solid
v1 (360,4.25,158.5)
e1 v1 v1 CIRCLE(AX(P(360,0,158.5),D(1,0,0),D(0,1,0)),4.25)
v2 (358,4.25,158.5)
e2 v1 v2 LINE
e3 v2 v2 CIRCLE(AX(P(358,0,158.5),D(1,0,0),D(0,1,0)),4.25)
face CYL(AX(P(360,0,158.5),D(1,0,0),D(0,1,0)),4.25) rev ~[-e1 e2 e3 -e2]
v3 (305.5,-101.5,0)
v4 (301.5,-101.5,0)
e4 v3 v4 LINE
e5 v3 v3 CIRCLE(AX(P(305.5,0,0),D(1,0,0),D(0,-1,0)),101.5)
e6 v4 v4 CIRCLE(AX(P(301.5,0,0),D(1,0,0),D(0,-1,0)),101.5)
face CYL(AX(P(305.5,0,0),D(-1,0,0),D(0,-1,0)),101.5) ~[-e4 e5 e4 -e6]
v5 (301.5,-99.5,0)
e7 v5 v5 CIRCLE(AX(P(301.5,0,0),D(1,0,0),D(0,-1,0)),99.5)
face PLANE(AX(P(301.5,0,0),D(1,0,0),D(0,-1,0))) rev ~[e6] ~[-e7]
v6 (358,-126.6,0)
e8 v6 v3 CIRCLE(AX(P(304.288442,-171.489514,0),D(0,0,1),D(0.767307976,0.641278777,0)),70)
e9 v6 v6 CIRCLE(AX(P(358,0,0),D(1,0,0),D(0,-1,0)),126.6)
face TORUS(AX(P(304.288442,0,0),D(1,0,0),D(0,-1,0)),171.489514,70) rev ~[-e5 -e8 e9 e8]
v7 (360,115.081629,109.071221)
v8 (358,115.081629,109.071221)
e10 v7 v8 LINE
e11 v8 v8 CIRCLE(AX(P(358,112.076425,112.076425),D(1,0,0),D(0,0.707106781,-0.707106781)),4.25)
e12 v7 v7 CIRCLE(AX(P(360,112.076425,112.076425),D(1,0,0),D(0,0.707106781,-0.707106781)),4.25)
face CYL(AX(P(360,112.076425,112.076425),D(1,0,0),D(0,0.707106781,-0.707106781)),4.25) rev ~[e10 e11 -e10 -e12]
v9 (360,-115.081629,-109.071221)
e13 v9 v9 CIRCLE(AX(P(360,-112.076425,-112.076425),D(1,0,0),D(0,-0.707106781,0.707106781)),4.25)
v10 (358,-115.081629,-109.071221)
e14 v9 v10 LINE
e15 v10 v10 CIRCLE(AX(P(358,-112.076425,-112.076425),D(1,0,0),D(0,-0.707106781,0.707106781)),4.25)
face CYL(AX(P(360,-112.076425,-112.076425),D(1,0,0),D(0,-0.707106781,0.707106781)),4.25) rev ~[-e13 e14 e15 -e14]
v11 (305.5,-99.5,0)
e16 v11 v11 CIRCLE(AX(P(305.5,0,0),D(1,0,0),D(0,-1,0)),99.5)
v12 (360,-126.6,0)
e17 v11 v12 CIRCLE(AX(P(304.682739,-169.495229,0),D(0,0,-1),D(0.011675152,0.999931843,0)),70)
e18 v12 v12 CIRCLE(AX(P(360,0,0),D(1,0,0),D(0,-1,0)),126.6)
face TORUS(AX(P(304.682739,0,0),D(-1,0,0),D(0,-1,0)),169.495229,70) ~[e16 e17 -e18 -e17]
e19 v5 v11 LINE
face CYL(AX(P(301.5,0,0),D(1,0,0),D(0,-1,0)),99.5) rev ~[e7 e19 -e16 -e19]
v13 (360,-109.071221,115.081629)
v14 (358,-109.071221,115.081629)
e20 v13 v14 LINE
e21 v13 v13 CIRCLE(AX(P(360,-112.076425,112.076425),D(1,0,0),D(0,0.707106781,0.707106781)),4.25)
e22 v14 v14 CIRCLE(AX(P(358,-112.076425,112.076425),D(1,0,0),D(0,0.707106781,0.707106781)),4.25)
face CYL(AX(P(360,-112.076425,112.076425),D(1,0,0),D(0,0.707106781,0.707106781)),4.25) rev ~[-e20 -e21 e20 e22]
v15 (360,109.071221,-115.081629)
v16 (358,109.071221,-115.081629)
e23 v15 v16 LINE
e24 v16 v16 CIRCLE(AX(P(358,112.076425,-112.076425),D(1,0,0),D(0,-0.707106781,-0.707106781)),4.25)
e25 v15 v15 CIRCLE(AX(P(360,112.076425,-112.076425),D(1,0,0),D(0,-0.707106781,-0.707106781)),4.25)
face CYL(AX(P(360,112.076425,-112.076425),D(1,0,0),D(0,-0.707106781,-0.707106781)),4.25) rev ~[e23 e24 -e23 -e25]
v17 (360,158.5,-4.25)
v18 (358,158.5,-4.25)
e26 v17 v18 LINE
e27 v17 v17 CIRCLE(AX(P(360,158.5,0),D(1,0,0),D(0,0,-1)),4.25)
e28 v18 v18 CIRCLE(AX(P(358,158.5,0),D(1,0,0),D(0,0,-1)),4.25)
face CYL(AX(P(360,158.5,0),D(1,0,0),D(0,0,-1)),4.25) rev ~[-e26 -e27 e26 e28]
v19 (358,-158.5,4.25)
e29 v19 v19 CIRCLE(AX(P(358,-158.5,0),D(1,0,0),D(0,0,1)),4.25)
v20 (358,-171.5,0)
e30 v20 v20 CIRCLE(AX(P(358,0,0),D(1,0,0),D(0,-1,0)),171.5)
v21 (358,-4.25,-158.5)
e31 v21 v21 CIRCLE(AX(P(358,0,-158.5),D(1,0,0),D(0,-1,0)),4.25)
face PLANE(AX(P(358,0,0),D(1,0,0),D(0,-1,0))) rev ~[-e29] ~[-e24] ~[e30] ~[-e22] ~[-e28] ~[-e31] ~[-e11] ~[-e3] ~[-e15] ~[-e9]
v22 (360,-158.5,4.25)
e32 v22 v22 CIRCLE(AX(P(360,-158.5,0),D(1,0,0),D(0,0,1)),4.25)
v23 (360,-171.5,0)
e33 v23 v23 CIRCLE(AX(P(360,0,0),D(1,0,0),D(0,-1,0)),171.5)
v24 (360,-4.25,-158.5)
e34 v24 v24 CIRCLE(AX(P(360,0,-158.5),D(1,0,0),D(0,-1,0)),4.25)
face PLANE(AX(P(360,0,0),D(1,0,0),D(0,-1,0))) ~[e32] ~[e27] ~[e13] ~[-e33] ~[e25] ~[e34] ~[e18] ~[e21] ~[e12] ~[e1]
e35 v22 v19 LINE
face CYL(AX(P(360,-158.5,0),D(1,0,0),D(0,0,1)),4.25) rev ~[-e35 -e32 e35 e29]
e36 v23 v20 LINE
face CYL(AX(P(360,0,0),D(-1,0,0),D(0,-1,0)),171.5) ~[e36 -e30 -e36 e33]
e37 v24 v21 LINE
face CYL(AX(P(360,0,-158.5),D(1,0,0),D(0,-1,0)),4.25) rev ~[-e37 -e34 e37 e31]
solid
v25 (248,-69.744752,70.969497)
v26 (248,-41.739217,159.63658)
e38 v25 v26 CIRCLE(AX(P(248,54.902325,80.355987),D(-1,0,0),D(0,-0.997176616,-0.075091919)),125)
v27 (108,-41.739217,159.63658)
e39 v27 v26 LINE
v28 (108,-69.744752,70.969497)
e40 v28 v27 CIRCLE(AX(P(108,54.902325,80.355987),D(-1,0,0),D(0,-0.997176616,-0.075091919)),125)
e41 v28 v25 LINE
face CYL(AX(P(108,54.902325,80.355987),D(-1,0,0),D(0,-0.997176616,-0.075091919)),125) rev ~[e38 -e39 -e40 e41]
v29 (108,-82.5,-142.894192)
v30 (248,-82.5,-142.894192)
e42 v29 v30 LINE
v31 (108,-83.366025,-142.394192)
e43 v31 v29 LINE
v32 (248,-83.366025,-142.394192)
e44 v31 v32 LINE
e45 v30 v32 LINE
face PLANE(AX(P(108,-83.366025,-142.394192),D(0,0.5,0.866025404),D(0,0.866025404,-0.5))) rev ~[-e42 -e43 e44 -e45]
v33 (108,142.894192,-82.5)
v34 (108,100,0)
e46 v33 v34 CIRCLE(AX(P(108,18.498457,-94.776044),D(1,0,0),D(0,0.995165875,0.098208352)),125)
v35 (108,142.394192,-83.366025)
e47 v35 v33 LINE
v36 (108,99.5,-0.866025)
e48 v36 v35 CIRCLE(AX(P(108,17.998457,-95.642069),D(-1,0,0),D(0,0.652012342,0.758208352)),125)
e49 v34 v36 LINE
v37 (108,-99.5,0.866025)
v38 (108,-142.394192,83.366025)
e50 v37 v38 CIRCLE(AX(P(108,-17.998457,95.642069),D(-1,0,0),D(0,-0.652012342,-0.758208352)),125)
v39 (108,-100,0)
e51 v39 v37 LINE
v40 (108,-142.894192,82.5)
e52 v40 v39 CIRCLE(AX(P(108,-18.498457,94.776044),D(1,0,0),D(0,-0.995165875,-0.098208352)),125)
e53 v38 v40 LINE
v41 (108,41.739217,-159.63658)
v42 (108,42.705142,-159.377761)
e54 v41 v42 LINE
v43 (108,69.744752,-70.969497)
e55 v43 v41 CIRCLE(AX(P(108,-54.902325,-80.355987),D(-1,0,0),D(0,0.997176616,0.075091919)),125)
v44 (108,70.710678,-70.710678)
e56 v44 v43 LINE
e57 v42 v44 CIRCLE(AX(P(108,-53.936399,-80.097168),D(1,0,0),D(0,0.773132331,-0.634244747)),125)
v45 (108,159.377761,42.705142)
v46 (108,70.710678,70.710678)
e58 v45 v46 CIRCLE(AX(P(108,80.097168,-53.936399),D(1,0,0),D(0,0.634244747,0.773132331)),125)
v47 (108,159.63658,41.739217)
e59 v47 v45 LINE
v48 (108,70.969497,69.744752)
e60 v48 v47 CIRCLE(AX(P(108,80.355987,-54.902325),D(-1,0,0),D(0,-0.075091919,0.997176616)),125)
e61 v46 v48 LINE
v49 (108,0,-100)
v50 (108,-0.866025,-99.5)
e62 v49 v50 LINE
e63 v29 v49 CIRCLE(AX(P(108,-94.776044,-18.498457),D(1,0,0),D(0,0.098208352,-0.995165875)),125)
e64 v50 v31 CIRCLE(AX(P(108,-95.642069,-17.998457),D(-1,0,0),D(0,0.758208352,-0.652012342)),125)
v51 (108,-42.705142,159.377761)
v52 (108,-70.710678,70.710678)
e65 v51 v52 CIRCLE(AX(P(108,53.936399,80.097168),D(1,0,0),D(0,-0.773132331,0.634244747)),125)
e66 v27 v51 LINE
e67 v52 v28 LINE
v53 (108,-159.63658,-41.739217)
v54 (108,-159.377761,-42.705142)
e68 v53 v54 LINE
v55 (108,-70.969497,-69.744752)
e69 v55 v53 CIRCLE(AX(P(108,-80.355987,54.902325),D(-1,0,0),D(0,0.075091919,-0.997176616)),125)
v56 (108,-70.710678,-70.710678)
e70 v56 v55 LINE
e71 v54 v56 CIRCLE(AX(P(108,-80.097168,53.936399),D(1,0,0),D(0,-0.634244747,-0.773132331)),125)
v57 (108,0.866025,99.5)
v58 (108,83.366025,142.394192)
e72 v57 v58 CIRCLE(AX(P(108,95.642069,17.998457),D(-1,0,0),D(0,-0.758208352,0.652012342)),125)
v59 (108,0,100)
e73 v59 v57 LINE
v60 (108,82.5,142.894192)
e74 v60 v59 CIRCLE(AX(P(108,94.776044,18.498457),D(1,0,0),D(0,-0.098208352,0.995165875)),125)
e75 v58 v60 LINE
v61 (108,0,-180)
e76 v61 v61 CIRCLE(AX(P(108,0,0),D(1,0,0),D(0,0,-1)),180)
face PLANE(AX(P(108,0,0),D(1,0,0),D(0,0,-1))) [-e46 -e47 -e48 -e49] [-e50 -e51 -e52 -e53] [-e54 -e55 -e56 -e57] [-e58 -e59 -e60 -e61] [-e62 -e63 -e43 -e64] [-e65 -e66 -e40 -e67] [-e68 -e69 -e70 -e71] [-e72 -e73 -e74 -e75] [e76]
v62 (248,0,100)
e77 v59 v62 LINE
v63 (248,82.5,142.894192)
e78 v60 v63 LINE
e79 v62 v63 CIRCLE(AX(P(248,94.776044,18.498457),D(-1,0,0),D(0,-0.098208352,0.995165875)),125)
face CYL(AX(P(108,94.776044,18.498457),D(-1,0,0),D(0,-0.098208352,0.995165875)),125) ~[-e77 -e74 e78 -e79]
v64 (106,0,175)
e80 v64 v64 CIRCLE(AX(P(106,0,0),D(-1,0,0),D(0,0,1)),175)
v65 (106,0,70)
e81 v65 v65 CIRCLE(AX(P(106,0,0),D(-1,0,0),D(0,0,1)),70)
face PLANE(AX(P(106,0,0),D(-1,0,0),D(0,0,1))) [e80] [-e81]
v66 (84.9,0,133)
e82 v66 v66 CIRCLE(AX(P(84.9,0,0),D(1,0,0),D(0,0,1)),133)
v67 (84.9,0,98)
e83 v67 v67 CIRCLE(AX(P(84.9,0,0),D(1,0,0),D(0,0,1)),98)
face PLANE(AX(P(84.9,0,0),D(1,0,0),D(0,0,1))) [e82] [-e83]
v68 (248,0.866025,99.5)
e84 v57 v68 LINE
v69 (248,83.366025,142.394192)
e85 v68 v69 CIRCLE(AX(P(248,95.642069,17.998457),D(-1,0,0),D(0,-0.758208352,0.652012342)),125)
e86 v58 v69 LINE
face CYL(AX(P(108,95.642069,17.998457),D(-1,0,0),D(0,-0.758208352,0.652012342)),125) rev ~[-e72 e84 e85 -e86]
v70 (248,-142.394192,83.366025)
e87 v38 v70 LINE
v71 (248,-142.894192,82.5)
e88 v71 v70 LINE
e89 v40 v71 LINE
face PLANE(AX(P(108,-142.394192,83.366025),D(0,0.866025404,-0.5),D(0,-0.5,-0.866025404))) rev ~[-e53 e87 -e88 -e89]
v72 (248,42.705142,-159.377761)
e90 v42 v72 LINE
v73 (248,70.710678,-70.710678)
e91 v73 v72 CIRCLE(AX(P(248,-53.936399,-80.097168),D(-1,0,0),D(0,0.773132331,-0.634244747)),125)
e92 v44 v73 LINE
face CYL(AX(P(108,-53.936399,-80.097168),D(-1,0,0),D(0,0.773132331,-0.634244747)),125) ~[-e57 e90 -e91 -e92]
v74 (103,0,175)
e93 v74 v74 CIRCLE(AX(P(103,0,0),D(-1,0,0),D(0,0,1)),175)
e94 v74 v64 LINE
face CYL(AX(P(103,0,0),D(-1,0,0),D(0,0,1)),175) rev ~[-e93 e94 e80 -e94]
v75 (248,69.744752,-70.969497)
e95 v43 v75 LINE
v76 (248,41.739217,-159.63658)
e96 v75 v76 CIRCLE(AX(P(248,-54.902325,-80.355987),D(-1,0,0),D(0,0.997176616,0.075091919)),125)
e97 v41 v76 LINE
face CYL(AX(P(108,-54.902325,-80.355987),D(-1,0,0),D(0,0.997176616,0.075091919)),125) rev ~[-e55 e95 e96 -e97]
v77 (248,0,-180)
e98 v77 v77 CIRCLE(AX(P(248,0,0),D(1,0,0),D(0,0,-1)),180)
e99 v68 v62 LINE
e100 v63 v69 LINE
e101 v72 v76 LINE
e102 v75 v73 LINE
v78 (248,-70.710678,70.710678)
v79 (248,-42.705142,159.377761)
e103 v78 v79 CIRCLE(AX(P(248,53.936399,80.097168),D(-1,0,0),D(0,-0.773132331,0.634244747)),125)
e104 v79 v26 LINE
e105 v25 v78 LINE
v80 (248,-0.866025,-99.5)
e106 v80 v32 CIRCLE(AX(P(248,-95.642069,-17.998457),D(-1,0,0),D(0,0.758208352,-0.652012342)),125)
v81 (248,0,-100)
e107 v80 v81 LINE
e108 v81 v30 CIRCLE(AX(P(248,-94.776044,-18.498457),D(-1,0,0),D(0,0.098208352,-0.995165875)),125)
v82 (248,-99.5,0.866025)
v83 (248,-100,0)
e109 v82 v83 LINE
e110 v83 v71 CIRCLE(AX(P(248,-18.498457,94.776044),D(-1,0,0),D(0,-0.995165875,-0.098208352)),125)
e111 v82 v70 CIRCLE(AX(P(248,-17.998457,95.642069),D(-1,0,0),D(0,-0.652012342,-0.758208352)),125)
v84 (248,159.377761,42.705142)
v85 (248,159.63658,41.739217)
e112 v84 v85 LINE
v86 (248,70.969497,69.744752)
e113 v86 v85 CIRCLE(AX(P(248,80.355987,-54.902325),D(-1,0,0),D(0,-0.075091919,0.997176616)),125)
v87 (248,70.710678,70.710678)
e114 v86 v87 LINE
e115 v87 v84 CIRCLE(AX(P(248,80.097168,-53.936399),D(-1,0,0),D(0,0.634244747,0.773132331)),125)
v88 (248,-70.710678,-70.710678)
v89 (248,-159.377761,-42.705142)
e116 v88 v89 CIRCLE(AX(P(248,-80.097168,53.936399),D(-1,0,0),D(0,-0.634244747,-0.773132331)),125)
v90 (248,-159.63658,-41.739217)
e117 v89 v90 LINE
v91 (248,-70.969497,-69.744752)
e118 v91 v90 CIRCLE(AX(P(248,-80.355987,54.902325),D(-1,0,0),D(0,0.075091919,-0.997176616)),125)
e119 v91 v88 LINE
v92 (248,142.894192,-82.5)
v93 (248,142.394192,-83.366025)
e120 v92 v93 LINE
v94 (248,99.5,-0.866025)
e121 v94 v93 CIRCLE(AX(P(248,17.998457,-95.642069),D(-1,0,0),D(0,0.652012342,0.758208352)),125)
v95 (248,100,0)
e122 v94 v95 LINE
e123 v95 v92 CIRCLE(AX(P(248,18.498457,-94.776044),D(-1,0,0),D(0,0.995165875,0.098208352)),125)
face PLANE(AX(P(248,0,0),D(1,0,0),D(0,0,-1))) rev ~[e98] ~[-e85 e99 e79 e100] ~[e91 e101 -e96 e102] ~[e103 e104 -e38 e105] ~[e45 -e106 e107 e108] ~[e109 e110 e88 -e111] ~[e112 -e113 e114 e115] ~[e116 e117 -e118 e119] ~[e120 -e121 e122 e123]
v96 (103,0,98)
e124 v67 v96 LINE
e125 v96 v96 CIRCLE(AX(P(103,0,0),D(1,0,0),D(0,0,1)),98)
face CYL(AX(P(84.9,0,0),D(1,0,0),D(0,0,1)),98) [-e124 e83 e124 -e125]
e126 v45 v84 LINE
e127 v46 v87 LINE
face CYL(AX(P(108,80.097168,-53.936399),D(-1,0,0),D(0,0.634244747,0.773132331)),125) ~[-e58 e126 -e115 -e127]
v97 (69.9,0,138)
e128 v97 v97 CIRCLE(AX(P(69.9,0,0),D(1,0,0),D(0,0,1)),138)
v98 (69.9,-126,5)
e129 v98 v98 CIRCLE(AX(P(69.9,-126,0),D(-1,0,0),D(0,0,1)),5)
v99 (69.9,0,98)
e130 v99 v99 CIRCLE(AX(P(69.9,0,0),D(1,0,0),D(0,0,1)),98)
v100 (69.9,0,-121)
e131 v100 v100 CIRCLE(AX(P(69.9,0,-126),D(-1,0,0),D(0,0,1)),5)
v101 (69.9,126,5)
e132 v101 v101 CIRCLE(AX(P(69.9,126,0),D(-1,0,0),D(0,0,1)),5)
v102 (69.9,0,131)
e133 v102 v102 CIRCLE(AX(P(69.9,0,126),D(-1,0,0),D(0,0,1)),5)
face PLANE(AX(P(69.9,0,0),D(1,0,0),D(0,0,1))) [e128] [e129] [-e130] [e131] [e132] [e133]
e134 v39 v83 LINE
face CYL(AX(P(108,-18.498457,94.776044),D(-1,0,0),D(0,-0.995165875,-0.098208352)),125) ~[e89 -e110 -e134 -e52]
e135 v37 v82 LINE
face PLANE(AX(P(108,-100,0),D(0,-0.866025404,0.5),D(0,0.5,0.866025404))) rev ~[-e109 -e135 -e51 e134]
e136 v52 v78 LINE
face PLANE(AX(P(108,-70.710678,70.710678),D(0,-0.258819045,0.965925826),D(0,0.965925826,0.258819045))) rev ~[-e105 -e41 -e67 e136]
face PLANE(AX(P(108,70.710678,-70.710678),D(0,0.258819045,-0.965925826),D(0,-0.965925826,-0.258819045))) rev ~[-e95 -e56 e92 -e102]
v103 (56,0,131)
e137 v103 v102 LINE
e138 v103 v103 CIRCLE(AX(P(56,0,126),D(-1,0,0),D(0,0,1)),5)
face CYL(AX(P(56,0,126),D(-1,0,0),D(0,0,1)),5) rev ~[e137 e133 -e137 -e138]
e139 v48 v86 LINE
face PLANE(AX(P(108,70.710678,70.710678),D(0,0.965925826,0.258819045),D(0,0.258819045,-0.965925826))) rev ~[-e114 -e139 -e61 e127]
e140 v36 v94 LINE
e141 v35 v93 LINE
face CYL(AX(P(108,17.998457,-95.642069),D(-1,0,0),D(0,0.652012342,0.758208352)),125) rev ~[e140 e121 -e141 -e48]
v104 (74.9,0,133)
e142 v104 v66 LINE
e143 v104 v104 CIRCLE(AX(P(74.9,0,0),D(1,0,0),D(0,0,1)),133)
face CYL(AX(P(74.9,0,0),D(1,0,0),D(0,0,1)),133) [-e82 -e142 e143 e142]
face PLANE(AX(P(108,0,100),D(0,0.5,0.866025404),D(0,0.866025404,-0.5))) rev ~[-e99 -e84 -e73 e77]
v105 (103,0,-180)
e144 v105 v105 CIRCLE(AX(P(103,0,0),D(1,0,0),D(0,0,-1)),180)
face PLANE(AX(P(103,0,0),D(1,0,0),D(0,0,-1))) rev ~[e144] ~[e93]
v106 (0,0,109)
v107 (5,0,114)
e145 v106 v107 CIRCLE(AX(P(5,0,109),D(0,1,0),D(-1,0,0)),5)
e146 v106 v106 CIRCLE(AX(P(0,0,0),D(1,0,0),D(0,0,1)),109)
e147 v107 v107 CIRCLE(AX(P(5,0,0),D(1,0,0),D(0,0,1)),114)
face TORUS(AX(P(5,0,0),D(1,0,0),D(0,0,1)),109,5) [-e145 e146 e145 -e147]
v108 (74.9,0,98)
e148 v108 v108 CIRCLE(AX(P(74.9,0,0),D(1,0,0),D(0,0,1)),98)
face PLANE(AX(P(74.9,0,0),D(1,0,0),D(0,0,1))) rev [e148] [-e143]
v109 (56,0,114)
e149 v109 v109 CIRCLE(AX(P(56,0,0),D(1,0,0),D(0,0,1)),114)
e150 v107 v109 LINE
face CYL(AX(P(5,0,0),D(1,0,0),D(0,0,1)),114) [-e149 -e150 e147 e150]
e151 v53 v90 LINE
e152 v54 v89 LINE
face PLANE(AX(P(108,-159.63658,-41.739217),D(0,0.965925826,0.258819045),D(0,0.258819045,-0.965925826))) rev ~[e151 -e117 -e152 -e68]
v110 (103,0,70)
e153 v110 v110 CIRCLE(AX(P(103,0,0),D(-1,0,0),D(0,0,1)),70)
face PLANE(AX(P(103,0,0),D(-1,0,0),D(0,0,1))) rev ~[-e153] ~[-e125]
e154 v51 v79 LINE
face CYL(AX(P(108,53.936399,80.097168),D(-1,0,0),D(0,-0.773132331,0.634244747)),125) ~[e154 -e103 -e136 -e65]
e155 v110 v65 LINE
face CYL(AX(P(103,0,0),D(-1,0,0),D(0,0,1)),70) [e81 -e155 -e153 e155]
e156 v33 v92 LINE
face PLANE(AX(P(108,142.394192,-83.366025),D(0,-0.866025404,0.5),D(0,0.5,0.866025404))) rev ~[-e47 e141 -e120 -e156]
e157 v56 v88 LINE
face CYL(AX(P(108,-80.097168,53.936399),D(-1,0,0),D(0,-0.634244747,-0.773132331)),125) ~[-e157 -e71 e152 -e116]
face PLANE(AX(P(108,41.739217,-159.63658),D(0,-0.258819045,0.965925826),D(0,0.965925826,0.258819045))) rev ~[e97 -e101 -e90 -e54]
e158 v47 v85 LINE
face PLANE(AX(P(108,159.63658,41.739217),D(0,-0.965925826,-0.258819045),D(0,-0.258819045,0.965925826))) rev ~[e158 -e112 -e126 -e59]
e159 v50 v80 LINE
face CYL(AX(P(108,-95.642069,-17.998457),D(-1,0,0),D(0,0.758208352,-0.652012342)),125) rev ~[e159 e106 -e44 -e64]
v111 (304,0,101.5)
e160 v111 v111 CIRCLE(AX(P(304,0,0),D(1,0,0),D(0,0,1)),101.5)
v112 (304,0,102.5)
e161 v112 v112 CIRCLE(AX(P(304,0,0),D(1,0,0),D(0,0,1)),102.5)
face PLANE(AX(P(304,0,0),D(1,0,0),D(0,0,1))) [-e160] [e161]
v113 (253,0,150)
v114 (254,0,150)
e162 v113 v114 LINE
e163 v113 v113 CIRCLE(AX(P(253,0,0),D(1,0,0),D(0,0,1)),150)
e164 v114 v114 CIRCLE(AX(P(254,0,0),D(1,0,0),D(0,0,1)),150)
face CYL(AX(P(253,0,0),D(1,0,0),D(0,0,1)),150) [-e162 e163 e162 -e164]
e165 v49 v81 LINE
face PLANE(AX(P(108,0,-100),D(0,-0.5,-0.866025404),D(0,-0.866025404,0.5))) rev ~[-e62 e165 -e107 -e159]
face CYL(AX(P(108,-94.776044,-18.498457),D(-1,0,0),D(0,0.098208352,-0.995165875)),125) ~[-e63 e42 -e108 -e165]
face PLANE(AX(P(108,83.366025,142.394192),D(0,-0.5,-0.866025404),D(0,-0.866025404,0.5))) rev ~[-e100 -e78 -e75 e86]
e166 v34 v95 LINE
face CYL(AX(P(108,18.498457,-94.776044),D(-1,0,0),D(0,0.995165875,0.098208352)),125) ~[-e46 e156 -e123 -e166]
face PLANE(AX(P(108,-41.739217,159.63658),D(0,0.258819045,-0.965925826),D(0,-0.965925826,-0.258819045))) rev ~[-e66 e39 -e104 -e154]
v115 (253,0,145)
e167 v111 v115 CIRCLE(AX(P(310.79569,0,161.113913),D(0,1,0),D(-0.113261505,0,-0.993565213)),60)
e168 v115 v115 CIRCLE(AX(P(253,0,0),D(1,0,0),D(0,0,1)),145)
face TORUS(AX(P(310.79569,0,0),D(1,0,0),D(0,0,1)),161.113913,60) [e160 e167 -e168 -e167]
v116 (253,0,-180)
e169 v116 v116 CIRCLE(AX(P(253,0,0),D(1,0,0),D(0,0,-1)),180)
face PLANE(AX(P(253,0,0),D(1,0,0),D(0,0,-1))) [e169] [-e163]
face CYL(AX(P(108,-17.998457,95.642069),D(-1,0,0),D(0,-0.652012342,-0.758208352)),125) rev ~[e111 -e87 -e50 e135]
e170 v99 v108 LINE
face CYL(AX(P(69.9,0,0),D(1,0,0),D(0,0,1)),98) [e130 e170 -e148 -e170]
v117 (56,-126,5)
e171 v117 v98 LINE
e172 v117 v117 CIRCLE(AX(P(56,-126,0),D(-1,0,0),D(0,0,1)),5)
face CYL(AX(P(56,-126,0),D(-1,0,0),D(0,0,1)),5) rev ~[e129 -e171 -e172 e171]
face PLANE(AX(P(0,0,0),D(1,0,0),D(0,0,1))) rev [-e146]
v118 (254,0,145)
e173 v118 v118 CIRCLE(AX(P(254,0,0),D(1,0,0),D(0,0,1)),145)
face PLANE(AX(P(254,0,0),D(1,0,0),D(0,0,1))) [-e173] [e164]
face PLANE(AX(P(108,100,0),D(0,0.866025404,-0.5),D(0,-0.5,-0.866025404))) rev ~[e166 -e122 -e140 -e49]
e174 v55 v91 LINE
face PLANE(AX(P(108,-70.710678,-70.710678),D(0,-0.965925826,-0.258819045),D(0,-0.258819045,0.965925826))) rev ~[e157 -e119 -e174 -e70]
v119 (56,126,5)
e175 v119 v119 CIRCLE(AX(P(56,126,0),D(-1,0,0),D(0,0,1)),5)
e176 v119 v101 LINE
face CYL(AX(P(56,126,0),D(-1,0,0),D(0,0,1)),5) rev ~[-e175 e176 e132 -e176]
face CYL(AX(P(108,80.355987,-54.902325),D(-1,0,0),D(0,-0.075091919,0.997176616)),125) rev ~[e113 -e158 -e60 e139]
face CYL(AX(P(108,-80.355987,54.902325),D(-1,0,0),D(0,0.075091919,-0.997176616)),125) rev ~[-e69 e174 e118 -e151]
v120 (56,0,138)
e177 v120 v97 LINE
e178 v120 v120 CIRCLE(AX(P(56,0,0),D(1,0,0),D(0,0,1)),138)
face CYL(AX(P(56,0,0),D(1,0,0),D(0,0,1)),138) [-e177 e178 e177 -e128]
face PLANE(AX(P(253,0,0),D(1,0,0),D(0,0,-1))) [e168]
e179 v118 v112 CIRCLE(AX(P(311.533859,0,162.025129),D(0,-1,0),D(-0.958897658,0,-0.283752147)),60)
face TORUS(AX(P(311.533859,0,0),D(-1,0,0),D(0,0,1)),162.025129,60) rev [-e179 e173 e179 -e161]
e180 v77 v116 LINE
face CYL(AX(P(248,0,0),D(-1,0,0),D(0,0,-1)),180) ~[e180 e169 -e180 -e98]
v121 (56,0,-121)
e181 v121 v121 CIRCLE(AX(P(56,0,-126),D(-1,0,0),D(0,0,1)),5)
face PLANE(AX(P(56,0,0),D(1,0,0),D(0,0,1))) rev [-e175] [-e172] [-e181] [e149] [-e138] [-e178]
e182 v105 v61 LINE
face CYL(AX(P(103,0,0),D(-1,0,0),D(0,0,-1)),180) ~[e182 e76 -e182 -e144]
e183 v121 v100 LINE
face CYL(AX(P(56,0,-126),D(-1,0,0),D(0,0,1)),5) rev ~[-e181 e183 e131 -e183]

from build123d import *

# Parameters (mm, degrees)
SKETCH2_R          = 180
EXTRUDE1_DEPTH     = 5
SKETCH9_R          = 175
SKETCH9_R_2        = 70
EXTRUDE7_DEPTH     = 3
SKETCH3_R          = 180
EXTRUDE2_DEPTH     = 5
EXTRUDE3_DEPTH     = 145
CIRPATTERN1_COUNT  = 8
SKETCH7_R          = 4.25
EXTRUDE5_DEPTH     = 5
CIRPATTERN2_COUNT  = 8
SKETCH10_R         = 5
CUT_EXTRUDE1_DEPTH = 13.9


with BuildPart() as part:
    # Sketch1 → Revolve1 (revolve)
    with BuildSketch(Plane.XY, mode=Mode.PRIVATE) as revolve1_sk:
        with BuildLine():
            Line((0, 0), (0, 109))
            ThreePointArc((0, 109), (1.464466094, 112.535533906), (5, 114))
            Line((5, 114), (56, 114))
            Line((56, 114), (56, 138))
            Line((56, 138), (69.9, 138))
            Line((69.9, 138), (69.9, 98))
            Line((69.9, 98), (74.9, 98))
            Line((74.9, 98), (74.9, 133))
            Line((74.9, 133), (84.9, 133))
            Line((84.9, 133), (84.9, 98))
            Line((84.9, 98), (103, 98))
            Line((103, 98), (103, 0))
            Line((103, 0), (0, 0))
        make_face()
    revolve(revolve1_sk.sketch.rotate(Axis((0, 0, 0), (1, 0, 0)), 90), axis=Axis((0, 0, 0), (1, 0, 0)))

    # Sketch2 → Extrude1 (add)
    with BuildSketch(Plane(origin=(103, 0, 0), x_dir=(0, 0, -1), z_dir=(1, 0, 0))):
        Circle(SKETCH2_R)
    extrude(amount=EXTRUDE1_DEPTH)

    # Sketch9 → Extrude7 (cut)
    with BuildSketch(Plane.ZY.offset(-103)):
        Circle(SKETCH9_R)
        Circle(SKETCH9_R_2, mode=Mode.SUBTRACT)
    extrude(amount=-EXTRUDE7_DEPTH, mode=Mode.SUBTRACT)



with BuildPart() as body_2:
    # Sketch3 → Extrude2 (new body)
    with BuildSketch(Plane(origin=(248, 0, 0), x_dir=(0, 0, -1), z_dir=(1, 0, 0))):
        Circle(SKETCH3_R)
    extrude(amount=EXTRUDE2_DEPTH)


with BuildPart() as part_1:
    add(part.part)

    add(body_2.part)  # Extrude3 merges body 2
    # Sketch4 → Extrude3 (add)
    with BuildSketch(Plane(origin=(108, 0, 0), x_dir=(0, 0, -1), z_dir=(1, 0, 0))):
        with BuildLine():
            Line((0, 100), (0.866025404, 99.5))
            ThreePointArc((0.866025404, 99.5), (37.979123721, 128.903753251), (83.366025404, 142.394191624))
            Line((83.366025404, 142.394191624), (82.5, 142.894191624))
            ThreePointArc((82.5, 142.894191624), (37.113098317, 129.403753251), (0, 100))
        make_face()
    extrude3 = extrude(amount=EXTRUDE3_DEPTH)

    # CirPattern1: Extrude3 ×8 about axis
    cirpattern1_axis = Axis((0, 0, 0), (1, 0, 0))
    for i in range(1, CIRPATTERN1_COUNT):
        add(extrude3.rotate(cirpattern1_axis, i * 360 / CIRPATTERN1_COUNT))

    # Sketch5 → Revolve2 (revolve)
    with BuildSketch(Plane.XY, mode=Mode.PRIVATE) as revolve2_sk:
        with BuildLine():
            Line((253, 150), (254, 150))
            Line((254, 150), (254, 145))
            ThreePointArc((254, 145), (272.674954292, 116.308769755), (304, 102.5))
            Line((304, 102.5), (304, 101.5))
            ThreePointArc((304, 101.5), (271.858893923, 115.463875634), (253, 145))
            Line((253, 145), (253, 150))
        make_face()
    revolve(revolve2_sk.sketch.rotate(Axis((0, 0, 0), (1, 0, 0)), 90), axis=Axis((0, 0, 0), (1, 0, 0)))

    # Sketch10 → Cut-Extrude1 (cut)
    with BuildSketch(Plane.ZY.offset(-56)):
        with Locations((0, 126)):
            Circle(SKETCH10_R)
        with Locations((126, 0)):
            Circle(SKETCH10_R)
        with Locations((0, -126)):
            Circle(SKETCH10_R)
        with Locations((-126, 0)):
            Circle(SKETCH10_R)
    extrude(amount=-CUT_EXTRUDE1_DEPTH, mode=Mode.SUBTRACT)


with BuildPart() as body_2_2:
    # Sketch6 → Revolve3 (revolve)
    with BuildSketch(Plane.XY, mode=Mode.PRIVATE) as revolve3_sk:
        with BuildLine():
            Line((360, 171.5), (358, 171.5))
            Line((358, 171.5), (358, 126.6))
            ThreePointArc((358, 126.6), (334.481813227, 108.336048031), (305.5, 101.5))
            Line((305.5, 101.5), (301.5, 101.5))
            Line((301.5, 101.5), (301.5, 99.5))
            Line((301.5, 99.5), (305.5, 99.5))
            ThreePointArc((305.5, 99.5), (335.849606698, 106.816473615), (360, 126.6))
            Line((360, 126.6), (360, 171.5))
        make_face()
    revolve(revolve3_sk.sketch.rotate(Axis((0, 0, 0), (1, 0, 0)), 180), axis=Axis((0, 0, 0), (1, 0, 0)))

    # Sketch7 → Extrude5 (cut)
    with BuildSketch(Plane(origin=(360, 0, 0), x_dir=(0, 0, -1), z_dir=(1, 0, 0))):
        with Locations((0, 158.5)):
            Circle(SKETCH7_R)
    extrude5 = extrude(amount=-EXTRUDE5_DEPTH, mode=Mode.SUBTRACT)

    # CirPattern2: Extrude5 ×8 about axis
    cirpattern2_axis = Axis((0, 0, 0), (1, 0, 0))
    for i in range(1, CIRPATTERN2_COUNT):
        add(extrude5.rotate(cirpattern2_axis, i * 360 / CIRPATTERN2_COUNT), mode=Mode.SUBTRACT)


solid = Compound([part_1.part, body_2_2.part])
